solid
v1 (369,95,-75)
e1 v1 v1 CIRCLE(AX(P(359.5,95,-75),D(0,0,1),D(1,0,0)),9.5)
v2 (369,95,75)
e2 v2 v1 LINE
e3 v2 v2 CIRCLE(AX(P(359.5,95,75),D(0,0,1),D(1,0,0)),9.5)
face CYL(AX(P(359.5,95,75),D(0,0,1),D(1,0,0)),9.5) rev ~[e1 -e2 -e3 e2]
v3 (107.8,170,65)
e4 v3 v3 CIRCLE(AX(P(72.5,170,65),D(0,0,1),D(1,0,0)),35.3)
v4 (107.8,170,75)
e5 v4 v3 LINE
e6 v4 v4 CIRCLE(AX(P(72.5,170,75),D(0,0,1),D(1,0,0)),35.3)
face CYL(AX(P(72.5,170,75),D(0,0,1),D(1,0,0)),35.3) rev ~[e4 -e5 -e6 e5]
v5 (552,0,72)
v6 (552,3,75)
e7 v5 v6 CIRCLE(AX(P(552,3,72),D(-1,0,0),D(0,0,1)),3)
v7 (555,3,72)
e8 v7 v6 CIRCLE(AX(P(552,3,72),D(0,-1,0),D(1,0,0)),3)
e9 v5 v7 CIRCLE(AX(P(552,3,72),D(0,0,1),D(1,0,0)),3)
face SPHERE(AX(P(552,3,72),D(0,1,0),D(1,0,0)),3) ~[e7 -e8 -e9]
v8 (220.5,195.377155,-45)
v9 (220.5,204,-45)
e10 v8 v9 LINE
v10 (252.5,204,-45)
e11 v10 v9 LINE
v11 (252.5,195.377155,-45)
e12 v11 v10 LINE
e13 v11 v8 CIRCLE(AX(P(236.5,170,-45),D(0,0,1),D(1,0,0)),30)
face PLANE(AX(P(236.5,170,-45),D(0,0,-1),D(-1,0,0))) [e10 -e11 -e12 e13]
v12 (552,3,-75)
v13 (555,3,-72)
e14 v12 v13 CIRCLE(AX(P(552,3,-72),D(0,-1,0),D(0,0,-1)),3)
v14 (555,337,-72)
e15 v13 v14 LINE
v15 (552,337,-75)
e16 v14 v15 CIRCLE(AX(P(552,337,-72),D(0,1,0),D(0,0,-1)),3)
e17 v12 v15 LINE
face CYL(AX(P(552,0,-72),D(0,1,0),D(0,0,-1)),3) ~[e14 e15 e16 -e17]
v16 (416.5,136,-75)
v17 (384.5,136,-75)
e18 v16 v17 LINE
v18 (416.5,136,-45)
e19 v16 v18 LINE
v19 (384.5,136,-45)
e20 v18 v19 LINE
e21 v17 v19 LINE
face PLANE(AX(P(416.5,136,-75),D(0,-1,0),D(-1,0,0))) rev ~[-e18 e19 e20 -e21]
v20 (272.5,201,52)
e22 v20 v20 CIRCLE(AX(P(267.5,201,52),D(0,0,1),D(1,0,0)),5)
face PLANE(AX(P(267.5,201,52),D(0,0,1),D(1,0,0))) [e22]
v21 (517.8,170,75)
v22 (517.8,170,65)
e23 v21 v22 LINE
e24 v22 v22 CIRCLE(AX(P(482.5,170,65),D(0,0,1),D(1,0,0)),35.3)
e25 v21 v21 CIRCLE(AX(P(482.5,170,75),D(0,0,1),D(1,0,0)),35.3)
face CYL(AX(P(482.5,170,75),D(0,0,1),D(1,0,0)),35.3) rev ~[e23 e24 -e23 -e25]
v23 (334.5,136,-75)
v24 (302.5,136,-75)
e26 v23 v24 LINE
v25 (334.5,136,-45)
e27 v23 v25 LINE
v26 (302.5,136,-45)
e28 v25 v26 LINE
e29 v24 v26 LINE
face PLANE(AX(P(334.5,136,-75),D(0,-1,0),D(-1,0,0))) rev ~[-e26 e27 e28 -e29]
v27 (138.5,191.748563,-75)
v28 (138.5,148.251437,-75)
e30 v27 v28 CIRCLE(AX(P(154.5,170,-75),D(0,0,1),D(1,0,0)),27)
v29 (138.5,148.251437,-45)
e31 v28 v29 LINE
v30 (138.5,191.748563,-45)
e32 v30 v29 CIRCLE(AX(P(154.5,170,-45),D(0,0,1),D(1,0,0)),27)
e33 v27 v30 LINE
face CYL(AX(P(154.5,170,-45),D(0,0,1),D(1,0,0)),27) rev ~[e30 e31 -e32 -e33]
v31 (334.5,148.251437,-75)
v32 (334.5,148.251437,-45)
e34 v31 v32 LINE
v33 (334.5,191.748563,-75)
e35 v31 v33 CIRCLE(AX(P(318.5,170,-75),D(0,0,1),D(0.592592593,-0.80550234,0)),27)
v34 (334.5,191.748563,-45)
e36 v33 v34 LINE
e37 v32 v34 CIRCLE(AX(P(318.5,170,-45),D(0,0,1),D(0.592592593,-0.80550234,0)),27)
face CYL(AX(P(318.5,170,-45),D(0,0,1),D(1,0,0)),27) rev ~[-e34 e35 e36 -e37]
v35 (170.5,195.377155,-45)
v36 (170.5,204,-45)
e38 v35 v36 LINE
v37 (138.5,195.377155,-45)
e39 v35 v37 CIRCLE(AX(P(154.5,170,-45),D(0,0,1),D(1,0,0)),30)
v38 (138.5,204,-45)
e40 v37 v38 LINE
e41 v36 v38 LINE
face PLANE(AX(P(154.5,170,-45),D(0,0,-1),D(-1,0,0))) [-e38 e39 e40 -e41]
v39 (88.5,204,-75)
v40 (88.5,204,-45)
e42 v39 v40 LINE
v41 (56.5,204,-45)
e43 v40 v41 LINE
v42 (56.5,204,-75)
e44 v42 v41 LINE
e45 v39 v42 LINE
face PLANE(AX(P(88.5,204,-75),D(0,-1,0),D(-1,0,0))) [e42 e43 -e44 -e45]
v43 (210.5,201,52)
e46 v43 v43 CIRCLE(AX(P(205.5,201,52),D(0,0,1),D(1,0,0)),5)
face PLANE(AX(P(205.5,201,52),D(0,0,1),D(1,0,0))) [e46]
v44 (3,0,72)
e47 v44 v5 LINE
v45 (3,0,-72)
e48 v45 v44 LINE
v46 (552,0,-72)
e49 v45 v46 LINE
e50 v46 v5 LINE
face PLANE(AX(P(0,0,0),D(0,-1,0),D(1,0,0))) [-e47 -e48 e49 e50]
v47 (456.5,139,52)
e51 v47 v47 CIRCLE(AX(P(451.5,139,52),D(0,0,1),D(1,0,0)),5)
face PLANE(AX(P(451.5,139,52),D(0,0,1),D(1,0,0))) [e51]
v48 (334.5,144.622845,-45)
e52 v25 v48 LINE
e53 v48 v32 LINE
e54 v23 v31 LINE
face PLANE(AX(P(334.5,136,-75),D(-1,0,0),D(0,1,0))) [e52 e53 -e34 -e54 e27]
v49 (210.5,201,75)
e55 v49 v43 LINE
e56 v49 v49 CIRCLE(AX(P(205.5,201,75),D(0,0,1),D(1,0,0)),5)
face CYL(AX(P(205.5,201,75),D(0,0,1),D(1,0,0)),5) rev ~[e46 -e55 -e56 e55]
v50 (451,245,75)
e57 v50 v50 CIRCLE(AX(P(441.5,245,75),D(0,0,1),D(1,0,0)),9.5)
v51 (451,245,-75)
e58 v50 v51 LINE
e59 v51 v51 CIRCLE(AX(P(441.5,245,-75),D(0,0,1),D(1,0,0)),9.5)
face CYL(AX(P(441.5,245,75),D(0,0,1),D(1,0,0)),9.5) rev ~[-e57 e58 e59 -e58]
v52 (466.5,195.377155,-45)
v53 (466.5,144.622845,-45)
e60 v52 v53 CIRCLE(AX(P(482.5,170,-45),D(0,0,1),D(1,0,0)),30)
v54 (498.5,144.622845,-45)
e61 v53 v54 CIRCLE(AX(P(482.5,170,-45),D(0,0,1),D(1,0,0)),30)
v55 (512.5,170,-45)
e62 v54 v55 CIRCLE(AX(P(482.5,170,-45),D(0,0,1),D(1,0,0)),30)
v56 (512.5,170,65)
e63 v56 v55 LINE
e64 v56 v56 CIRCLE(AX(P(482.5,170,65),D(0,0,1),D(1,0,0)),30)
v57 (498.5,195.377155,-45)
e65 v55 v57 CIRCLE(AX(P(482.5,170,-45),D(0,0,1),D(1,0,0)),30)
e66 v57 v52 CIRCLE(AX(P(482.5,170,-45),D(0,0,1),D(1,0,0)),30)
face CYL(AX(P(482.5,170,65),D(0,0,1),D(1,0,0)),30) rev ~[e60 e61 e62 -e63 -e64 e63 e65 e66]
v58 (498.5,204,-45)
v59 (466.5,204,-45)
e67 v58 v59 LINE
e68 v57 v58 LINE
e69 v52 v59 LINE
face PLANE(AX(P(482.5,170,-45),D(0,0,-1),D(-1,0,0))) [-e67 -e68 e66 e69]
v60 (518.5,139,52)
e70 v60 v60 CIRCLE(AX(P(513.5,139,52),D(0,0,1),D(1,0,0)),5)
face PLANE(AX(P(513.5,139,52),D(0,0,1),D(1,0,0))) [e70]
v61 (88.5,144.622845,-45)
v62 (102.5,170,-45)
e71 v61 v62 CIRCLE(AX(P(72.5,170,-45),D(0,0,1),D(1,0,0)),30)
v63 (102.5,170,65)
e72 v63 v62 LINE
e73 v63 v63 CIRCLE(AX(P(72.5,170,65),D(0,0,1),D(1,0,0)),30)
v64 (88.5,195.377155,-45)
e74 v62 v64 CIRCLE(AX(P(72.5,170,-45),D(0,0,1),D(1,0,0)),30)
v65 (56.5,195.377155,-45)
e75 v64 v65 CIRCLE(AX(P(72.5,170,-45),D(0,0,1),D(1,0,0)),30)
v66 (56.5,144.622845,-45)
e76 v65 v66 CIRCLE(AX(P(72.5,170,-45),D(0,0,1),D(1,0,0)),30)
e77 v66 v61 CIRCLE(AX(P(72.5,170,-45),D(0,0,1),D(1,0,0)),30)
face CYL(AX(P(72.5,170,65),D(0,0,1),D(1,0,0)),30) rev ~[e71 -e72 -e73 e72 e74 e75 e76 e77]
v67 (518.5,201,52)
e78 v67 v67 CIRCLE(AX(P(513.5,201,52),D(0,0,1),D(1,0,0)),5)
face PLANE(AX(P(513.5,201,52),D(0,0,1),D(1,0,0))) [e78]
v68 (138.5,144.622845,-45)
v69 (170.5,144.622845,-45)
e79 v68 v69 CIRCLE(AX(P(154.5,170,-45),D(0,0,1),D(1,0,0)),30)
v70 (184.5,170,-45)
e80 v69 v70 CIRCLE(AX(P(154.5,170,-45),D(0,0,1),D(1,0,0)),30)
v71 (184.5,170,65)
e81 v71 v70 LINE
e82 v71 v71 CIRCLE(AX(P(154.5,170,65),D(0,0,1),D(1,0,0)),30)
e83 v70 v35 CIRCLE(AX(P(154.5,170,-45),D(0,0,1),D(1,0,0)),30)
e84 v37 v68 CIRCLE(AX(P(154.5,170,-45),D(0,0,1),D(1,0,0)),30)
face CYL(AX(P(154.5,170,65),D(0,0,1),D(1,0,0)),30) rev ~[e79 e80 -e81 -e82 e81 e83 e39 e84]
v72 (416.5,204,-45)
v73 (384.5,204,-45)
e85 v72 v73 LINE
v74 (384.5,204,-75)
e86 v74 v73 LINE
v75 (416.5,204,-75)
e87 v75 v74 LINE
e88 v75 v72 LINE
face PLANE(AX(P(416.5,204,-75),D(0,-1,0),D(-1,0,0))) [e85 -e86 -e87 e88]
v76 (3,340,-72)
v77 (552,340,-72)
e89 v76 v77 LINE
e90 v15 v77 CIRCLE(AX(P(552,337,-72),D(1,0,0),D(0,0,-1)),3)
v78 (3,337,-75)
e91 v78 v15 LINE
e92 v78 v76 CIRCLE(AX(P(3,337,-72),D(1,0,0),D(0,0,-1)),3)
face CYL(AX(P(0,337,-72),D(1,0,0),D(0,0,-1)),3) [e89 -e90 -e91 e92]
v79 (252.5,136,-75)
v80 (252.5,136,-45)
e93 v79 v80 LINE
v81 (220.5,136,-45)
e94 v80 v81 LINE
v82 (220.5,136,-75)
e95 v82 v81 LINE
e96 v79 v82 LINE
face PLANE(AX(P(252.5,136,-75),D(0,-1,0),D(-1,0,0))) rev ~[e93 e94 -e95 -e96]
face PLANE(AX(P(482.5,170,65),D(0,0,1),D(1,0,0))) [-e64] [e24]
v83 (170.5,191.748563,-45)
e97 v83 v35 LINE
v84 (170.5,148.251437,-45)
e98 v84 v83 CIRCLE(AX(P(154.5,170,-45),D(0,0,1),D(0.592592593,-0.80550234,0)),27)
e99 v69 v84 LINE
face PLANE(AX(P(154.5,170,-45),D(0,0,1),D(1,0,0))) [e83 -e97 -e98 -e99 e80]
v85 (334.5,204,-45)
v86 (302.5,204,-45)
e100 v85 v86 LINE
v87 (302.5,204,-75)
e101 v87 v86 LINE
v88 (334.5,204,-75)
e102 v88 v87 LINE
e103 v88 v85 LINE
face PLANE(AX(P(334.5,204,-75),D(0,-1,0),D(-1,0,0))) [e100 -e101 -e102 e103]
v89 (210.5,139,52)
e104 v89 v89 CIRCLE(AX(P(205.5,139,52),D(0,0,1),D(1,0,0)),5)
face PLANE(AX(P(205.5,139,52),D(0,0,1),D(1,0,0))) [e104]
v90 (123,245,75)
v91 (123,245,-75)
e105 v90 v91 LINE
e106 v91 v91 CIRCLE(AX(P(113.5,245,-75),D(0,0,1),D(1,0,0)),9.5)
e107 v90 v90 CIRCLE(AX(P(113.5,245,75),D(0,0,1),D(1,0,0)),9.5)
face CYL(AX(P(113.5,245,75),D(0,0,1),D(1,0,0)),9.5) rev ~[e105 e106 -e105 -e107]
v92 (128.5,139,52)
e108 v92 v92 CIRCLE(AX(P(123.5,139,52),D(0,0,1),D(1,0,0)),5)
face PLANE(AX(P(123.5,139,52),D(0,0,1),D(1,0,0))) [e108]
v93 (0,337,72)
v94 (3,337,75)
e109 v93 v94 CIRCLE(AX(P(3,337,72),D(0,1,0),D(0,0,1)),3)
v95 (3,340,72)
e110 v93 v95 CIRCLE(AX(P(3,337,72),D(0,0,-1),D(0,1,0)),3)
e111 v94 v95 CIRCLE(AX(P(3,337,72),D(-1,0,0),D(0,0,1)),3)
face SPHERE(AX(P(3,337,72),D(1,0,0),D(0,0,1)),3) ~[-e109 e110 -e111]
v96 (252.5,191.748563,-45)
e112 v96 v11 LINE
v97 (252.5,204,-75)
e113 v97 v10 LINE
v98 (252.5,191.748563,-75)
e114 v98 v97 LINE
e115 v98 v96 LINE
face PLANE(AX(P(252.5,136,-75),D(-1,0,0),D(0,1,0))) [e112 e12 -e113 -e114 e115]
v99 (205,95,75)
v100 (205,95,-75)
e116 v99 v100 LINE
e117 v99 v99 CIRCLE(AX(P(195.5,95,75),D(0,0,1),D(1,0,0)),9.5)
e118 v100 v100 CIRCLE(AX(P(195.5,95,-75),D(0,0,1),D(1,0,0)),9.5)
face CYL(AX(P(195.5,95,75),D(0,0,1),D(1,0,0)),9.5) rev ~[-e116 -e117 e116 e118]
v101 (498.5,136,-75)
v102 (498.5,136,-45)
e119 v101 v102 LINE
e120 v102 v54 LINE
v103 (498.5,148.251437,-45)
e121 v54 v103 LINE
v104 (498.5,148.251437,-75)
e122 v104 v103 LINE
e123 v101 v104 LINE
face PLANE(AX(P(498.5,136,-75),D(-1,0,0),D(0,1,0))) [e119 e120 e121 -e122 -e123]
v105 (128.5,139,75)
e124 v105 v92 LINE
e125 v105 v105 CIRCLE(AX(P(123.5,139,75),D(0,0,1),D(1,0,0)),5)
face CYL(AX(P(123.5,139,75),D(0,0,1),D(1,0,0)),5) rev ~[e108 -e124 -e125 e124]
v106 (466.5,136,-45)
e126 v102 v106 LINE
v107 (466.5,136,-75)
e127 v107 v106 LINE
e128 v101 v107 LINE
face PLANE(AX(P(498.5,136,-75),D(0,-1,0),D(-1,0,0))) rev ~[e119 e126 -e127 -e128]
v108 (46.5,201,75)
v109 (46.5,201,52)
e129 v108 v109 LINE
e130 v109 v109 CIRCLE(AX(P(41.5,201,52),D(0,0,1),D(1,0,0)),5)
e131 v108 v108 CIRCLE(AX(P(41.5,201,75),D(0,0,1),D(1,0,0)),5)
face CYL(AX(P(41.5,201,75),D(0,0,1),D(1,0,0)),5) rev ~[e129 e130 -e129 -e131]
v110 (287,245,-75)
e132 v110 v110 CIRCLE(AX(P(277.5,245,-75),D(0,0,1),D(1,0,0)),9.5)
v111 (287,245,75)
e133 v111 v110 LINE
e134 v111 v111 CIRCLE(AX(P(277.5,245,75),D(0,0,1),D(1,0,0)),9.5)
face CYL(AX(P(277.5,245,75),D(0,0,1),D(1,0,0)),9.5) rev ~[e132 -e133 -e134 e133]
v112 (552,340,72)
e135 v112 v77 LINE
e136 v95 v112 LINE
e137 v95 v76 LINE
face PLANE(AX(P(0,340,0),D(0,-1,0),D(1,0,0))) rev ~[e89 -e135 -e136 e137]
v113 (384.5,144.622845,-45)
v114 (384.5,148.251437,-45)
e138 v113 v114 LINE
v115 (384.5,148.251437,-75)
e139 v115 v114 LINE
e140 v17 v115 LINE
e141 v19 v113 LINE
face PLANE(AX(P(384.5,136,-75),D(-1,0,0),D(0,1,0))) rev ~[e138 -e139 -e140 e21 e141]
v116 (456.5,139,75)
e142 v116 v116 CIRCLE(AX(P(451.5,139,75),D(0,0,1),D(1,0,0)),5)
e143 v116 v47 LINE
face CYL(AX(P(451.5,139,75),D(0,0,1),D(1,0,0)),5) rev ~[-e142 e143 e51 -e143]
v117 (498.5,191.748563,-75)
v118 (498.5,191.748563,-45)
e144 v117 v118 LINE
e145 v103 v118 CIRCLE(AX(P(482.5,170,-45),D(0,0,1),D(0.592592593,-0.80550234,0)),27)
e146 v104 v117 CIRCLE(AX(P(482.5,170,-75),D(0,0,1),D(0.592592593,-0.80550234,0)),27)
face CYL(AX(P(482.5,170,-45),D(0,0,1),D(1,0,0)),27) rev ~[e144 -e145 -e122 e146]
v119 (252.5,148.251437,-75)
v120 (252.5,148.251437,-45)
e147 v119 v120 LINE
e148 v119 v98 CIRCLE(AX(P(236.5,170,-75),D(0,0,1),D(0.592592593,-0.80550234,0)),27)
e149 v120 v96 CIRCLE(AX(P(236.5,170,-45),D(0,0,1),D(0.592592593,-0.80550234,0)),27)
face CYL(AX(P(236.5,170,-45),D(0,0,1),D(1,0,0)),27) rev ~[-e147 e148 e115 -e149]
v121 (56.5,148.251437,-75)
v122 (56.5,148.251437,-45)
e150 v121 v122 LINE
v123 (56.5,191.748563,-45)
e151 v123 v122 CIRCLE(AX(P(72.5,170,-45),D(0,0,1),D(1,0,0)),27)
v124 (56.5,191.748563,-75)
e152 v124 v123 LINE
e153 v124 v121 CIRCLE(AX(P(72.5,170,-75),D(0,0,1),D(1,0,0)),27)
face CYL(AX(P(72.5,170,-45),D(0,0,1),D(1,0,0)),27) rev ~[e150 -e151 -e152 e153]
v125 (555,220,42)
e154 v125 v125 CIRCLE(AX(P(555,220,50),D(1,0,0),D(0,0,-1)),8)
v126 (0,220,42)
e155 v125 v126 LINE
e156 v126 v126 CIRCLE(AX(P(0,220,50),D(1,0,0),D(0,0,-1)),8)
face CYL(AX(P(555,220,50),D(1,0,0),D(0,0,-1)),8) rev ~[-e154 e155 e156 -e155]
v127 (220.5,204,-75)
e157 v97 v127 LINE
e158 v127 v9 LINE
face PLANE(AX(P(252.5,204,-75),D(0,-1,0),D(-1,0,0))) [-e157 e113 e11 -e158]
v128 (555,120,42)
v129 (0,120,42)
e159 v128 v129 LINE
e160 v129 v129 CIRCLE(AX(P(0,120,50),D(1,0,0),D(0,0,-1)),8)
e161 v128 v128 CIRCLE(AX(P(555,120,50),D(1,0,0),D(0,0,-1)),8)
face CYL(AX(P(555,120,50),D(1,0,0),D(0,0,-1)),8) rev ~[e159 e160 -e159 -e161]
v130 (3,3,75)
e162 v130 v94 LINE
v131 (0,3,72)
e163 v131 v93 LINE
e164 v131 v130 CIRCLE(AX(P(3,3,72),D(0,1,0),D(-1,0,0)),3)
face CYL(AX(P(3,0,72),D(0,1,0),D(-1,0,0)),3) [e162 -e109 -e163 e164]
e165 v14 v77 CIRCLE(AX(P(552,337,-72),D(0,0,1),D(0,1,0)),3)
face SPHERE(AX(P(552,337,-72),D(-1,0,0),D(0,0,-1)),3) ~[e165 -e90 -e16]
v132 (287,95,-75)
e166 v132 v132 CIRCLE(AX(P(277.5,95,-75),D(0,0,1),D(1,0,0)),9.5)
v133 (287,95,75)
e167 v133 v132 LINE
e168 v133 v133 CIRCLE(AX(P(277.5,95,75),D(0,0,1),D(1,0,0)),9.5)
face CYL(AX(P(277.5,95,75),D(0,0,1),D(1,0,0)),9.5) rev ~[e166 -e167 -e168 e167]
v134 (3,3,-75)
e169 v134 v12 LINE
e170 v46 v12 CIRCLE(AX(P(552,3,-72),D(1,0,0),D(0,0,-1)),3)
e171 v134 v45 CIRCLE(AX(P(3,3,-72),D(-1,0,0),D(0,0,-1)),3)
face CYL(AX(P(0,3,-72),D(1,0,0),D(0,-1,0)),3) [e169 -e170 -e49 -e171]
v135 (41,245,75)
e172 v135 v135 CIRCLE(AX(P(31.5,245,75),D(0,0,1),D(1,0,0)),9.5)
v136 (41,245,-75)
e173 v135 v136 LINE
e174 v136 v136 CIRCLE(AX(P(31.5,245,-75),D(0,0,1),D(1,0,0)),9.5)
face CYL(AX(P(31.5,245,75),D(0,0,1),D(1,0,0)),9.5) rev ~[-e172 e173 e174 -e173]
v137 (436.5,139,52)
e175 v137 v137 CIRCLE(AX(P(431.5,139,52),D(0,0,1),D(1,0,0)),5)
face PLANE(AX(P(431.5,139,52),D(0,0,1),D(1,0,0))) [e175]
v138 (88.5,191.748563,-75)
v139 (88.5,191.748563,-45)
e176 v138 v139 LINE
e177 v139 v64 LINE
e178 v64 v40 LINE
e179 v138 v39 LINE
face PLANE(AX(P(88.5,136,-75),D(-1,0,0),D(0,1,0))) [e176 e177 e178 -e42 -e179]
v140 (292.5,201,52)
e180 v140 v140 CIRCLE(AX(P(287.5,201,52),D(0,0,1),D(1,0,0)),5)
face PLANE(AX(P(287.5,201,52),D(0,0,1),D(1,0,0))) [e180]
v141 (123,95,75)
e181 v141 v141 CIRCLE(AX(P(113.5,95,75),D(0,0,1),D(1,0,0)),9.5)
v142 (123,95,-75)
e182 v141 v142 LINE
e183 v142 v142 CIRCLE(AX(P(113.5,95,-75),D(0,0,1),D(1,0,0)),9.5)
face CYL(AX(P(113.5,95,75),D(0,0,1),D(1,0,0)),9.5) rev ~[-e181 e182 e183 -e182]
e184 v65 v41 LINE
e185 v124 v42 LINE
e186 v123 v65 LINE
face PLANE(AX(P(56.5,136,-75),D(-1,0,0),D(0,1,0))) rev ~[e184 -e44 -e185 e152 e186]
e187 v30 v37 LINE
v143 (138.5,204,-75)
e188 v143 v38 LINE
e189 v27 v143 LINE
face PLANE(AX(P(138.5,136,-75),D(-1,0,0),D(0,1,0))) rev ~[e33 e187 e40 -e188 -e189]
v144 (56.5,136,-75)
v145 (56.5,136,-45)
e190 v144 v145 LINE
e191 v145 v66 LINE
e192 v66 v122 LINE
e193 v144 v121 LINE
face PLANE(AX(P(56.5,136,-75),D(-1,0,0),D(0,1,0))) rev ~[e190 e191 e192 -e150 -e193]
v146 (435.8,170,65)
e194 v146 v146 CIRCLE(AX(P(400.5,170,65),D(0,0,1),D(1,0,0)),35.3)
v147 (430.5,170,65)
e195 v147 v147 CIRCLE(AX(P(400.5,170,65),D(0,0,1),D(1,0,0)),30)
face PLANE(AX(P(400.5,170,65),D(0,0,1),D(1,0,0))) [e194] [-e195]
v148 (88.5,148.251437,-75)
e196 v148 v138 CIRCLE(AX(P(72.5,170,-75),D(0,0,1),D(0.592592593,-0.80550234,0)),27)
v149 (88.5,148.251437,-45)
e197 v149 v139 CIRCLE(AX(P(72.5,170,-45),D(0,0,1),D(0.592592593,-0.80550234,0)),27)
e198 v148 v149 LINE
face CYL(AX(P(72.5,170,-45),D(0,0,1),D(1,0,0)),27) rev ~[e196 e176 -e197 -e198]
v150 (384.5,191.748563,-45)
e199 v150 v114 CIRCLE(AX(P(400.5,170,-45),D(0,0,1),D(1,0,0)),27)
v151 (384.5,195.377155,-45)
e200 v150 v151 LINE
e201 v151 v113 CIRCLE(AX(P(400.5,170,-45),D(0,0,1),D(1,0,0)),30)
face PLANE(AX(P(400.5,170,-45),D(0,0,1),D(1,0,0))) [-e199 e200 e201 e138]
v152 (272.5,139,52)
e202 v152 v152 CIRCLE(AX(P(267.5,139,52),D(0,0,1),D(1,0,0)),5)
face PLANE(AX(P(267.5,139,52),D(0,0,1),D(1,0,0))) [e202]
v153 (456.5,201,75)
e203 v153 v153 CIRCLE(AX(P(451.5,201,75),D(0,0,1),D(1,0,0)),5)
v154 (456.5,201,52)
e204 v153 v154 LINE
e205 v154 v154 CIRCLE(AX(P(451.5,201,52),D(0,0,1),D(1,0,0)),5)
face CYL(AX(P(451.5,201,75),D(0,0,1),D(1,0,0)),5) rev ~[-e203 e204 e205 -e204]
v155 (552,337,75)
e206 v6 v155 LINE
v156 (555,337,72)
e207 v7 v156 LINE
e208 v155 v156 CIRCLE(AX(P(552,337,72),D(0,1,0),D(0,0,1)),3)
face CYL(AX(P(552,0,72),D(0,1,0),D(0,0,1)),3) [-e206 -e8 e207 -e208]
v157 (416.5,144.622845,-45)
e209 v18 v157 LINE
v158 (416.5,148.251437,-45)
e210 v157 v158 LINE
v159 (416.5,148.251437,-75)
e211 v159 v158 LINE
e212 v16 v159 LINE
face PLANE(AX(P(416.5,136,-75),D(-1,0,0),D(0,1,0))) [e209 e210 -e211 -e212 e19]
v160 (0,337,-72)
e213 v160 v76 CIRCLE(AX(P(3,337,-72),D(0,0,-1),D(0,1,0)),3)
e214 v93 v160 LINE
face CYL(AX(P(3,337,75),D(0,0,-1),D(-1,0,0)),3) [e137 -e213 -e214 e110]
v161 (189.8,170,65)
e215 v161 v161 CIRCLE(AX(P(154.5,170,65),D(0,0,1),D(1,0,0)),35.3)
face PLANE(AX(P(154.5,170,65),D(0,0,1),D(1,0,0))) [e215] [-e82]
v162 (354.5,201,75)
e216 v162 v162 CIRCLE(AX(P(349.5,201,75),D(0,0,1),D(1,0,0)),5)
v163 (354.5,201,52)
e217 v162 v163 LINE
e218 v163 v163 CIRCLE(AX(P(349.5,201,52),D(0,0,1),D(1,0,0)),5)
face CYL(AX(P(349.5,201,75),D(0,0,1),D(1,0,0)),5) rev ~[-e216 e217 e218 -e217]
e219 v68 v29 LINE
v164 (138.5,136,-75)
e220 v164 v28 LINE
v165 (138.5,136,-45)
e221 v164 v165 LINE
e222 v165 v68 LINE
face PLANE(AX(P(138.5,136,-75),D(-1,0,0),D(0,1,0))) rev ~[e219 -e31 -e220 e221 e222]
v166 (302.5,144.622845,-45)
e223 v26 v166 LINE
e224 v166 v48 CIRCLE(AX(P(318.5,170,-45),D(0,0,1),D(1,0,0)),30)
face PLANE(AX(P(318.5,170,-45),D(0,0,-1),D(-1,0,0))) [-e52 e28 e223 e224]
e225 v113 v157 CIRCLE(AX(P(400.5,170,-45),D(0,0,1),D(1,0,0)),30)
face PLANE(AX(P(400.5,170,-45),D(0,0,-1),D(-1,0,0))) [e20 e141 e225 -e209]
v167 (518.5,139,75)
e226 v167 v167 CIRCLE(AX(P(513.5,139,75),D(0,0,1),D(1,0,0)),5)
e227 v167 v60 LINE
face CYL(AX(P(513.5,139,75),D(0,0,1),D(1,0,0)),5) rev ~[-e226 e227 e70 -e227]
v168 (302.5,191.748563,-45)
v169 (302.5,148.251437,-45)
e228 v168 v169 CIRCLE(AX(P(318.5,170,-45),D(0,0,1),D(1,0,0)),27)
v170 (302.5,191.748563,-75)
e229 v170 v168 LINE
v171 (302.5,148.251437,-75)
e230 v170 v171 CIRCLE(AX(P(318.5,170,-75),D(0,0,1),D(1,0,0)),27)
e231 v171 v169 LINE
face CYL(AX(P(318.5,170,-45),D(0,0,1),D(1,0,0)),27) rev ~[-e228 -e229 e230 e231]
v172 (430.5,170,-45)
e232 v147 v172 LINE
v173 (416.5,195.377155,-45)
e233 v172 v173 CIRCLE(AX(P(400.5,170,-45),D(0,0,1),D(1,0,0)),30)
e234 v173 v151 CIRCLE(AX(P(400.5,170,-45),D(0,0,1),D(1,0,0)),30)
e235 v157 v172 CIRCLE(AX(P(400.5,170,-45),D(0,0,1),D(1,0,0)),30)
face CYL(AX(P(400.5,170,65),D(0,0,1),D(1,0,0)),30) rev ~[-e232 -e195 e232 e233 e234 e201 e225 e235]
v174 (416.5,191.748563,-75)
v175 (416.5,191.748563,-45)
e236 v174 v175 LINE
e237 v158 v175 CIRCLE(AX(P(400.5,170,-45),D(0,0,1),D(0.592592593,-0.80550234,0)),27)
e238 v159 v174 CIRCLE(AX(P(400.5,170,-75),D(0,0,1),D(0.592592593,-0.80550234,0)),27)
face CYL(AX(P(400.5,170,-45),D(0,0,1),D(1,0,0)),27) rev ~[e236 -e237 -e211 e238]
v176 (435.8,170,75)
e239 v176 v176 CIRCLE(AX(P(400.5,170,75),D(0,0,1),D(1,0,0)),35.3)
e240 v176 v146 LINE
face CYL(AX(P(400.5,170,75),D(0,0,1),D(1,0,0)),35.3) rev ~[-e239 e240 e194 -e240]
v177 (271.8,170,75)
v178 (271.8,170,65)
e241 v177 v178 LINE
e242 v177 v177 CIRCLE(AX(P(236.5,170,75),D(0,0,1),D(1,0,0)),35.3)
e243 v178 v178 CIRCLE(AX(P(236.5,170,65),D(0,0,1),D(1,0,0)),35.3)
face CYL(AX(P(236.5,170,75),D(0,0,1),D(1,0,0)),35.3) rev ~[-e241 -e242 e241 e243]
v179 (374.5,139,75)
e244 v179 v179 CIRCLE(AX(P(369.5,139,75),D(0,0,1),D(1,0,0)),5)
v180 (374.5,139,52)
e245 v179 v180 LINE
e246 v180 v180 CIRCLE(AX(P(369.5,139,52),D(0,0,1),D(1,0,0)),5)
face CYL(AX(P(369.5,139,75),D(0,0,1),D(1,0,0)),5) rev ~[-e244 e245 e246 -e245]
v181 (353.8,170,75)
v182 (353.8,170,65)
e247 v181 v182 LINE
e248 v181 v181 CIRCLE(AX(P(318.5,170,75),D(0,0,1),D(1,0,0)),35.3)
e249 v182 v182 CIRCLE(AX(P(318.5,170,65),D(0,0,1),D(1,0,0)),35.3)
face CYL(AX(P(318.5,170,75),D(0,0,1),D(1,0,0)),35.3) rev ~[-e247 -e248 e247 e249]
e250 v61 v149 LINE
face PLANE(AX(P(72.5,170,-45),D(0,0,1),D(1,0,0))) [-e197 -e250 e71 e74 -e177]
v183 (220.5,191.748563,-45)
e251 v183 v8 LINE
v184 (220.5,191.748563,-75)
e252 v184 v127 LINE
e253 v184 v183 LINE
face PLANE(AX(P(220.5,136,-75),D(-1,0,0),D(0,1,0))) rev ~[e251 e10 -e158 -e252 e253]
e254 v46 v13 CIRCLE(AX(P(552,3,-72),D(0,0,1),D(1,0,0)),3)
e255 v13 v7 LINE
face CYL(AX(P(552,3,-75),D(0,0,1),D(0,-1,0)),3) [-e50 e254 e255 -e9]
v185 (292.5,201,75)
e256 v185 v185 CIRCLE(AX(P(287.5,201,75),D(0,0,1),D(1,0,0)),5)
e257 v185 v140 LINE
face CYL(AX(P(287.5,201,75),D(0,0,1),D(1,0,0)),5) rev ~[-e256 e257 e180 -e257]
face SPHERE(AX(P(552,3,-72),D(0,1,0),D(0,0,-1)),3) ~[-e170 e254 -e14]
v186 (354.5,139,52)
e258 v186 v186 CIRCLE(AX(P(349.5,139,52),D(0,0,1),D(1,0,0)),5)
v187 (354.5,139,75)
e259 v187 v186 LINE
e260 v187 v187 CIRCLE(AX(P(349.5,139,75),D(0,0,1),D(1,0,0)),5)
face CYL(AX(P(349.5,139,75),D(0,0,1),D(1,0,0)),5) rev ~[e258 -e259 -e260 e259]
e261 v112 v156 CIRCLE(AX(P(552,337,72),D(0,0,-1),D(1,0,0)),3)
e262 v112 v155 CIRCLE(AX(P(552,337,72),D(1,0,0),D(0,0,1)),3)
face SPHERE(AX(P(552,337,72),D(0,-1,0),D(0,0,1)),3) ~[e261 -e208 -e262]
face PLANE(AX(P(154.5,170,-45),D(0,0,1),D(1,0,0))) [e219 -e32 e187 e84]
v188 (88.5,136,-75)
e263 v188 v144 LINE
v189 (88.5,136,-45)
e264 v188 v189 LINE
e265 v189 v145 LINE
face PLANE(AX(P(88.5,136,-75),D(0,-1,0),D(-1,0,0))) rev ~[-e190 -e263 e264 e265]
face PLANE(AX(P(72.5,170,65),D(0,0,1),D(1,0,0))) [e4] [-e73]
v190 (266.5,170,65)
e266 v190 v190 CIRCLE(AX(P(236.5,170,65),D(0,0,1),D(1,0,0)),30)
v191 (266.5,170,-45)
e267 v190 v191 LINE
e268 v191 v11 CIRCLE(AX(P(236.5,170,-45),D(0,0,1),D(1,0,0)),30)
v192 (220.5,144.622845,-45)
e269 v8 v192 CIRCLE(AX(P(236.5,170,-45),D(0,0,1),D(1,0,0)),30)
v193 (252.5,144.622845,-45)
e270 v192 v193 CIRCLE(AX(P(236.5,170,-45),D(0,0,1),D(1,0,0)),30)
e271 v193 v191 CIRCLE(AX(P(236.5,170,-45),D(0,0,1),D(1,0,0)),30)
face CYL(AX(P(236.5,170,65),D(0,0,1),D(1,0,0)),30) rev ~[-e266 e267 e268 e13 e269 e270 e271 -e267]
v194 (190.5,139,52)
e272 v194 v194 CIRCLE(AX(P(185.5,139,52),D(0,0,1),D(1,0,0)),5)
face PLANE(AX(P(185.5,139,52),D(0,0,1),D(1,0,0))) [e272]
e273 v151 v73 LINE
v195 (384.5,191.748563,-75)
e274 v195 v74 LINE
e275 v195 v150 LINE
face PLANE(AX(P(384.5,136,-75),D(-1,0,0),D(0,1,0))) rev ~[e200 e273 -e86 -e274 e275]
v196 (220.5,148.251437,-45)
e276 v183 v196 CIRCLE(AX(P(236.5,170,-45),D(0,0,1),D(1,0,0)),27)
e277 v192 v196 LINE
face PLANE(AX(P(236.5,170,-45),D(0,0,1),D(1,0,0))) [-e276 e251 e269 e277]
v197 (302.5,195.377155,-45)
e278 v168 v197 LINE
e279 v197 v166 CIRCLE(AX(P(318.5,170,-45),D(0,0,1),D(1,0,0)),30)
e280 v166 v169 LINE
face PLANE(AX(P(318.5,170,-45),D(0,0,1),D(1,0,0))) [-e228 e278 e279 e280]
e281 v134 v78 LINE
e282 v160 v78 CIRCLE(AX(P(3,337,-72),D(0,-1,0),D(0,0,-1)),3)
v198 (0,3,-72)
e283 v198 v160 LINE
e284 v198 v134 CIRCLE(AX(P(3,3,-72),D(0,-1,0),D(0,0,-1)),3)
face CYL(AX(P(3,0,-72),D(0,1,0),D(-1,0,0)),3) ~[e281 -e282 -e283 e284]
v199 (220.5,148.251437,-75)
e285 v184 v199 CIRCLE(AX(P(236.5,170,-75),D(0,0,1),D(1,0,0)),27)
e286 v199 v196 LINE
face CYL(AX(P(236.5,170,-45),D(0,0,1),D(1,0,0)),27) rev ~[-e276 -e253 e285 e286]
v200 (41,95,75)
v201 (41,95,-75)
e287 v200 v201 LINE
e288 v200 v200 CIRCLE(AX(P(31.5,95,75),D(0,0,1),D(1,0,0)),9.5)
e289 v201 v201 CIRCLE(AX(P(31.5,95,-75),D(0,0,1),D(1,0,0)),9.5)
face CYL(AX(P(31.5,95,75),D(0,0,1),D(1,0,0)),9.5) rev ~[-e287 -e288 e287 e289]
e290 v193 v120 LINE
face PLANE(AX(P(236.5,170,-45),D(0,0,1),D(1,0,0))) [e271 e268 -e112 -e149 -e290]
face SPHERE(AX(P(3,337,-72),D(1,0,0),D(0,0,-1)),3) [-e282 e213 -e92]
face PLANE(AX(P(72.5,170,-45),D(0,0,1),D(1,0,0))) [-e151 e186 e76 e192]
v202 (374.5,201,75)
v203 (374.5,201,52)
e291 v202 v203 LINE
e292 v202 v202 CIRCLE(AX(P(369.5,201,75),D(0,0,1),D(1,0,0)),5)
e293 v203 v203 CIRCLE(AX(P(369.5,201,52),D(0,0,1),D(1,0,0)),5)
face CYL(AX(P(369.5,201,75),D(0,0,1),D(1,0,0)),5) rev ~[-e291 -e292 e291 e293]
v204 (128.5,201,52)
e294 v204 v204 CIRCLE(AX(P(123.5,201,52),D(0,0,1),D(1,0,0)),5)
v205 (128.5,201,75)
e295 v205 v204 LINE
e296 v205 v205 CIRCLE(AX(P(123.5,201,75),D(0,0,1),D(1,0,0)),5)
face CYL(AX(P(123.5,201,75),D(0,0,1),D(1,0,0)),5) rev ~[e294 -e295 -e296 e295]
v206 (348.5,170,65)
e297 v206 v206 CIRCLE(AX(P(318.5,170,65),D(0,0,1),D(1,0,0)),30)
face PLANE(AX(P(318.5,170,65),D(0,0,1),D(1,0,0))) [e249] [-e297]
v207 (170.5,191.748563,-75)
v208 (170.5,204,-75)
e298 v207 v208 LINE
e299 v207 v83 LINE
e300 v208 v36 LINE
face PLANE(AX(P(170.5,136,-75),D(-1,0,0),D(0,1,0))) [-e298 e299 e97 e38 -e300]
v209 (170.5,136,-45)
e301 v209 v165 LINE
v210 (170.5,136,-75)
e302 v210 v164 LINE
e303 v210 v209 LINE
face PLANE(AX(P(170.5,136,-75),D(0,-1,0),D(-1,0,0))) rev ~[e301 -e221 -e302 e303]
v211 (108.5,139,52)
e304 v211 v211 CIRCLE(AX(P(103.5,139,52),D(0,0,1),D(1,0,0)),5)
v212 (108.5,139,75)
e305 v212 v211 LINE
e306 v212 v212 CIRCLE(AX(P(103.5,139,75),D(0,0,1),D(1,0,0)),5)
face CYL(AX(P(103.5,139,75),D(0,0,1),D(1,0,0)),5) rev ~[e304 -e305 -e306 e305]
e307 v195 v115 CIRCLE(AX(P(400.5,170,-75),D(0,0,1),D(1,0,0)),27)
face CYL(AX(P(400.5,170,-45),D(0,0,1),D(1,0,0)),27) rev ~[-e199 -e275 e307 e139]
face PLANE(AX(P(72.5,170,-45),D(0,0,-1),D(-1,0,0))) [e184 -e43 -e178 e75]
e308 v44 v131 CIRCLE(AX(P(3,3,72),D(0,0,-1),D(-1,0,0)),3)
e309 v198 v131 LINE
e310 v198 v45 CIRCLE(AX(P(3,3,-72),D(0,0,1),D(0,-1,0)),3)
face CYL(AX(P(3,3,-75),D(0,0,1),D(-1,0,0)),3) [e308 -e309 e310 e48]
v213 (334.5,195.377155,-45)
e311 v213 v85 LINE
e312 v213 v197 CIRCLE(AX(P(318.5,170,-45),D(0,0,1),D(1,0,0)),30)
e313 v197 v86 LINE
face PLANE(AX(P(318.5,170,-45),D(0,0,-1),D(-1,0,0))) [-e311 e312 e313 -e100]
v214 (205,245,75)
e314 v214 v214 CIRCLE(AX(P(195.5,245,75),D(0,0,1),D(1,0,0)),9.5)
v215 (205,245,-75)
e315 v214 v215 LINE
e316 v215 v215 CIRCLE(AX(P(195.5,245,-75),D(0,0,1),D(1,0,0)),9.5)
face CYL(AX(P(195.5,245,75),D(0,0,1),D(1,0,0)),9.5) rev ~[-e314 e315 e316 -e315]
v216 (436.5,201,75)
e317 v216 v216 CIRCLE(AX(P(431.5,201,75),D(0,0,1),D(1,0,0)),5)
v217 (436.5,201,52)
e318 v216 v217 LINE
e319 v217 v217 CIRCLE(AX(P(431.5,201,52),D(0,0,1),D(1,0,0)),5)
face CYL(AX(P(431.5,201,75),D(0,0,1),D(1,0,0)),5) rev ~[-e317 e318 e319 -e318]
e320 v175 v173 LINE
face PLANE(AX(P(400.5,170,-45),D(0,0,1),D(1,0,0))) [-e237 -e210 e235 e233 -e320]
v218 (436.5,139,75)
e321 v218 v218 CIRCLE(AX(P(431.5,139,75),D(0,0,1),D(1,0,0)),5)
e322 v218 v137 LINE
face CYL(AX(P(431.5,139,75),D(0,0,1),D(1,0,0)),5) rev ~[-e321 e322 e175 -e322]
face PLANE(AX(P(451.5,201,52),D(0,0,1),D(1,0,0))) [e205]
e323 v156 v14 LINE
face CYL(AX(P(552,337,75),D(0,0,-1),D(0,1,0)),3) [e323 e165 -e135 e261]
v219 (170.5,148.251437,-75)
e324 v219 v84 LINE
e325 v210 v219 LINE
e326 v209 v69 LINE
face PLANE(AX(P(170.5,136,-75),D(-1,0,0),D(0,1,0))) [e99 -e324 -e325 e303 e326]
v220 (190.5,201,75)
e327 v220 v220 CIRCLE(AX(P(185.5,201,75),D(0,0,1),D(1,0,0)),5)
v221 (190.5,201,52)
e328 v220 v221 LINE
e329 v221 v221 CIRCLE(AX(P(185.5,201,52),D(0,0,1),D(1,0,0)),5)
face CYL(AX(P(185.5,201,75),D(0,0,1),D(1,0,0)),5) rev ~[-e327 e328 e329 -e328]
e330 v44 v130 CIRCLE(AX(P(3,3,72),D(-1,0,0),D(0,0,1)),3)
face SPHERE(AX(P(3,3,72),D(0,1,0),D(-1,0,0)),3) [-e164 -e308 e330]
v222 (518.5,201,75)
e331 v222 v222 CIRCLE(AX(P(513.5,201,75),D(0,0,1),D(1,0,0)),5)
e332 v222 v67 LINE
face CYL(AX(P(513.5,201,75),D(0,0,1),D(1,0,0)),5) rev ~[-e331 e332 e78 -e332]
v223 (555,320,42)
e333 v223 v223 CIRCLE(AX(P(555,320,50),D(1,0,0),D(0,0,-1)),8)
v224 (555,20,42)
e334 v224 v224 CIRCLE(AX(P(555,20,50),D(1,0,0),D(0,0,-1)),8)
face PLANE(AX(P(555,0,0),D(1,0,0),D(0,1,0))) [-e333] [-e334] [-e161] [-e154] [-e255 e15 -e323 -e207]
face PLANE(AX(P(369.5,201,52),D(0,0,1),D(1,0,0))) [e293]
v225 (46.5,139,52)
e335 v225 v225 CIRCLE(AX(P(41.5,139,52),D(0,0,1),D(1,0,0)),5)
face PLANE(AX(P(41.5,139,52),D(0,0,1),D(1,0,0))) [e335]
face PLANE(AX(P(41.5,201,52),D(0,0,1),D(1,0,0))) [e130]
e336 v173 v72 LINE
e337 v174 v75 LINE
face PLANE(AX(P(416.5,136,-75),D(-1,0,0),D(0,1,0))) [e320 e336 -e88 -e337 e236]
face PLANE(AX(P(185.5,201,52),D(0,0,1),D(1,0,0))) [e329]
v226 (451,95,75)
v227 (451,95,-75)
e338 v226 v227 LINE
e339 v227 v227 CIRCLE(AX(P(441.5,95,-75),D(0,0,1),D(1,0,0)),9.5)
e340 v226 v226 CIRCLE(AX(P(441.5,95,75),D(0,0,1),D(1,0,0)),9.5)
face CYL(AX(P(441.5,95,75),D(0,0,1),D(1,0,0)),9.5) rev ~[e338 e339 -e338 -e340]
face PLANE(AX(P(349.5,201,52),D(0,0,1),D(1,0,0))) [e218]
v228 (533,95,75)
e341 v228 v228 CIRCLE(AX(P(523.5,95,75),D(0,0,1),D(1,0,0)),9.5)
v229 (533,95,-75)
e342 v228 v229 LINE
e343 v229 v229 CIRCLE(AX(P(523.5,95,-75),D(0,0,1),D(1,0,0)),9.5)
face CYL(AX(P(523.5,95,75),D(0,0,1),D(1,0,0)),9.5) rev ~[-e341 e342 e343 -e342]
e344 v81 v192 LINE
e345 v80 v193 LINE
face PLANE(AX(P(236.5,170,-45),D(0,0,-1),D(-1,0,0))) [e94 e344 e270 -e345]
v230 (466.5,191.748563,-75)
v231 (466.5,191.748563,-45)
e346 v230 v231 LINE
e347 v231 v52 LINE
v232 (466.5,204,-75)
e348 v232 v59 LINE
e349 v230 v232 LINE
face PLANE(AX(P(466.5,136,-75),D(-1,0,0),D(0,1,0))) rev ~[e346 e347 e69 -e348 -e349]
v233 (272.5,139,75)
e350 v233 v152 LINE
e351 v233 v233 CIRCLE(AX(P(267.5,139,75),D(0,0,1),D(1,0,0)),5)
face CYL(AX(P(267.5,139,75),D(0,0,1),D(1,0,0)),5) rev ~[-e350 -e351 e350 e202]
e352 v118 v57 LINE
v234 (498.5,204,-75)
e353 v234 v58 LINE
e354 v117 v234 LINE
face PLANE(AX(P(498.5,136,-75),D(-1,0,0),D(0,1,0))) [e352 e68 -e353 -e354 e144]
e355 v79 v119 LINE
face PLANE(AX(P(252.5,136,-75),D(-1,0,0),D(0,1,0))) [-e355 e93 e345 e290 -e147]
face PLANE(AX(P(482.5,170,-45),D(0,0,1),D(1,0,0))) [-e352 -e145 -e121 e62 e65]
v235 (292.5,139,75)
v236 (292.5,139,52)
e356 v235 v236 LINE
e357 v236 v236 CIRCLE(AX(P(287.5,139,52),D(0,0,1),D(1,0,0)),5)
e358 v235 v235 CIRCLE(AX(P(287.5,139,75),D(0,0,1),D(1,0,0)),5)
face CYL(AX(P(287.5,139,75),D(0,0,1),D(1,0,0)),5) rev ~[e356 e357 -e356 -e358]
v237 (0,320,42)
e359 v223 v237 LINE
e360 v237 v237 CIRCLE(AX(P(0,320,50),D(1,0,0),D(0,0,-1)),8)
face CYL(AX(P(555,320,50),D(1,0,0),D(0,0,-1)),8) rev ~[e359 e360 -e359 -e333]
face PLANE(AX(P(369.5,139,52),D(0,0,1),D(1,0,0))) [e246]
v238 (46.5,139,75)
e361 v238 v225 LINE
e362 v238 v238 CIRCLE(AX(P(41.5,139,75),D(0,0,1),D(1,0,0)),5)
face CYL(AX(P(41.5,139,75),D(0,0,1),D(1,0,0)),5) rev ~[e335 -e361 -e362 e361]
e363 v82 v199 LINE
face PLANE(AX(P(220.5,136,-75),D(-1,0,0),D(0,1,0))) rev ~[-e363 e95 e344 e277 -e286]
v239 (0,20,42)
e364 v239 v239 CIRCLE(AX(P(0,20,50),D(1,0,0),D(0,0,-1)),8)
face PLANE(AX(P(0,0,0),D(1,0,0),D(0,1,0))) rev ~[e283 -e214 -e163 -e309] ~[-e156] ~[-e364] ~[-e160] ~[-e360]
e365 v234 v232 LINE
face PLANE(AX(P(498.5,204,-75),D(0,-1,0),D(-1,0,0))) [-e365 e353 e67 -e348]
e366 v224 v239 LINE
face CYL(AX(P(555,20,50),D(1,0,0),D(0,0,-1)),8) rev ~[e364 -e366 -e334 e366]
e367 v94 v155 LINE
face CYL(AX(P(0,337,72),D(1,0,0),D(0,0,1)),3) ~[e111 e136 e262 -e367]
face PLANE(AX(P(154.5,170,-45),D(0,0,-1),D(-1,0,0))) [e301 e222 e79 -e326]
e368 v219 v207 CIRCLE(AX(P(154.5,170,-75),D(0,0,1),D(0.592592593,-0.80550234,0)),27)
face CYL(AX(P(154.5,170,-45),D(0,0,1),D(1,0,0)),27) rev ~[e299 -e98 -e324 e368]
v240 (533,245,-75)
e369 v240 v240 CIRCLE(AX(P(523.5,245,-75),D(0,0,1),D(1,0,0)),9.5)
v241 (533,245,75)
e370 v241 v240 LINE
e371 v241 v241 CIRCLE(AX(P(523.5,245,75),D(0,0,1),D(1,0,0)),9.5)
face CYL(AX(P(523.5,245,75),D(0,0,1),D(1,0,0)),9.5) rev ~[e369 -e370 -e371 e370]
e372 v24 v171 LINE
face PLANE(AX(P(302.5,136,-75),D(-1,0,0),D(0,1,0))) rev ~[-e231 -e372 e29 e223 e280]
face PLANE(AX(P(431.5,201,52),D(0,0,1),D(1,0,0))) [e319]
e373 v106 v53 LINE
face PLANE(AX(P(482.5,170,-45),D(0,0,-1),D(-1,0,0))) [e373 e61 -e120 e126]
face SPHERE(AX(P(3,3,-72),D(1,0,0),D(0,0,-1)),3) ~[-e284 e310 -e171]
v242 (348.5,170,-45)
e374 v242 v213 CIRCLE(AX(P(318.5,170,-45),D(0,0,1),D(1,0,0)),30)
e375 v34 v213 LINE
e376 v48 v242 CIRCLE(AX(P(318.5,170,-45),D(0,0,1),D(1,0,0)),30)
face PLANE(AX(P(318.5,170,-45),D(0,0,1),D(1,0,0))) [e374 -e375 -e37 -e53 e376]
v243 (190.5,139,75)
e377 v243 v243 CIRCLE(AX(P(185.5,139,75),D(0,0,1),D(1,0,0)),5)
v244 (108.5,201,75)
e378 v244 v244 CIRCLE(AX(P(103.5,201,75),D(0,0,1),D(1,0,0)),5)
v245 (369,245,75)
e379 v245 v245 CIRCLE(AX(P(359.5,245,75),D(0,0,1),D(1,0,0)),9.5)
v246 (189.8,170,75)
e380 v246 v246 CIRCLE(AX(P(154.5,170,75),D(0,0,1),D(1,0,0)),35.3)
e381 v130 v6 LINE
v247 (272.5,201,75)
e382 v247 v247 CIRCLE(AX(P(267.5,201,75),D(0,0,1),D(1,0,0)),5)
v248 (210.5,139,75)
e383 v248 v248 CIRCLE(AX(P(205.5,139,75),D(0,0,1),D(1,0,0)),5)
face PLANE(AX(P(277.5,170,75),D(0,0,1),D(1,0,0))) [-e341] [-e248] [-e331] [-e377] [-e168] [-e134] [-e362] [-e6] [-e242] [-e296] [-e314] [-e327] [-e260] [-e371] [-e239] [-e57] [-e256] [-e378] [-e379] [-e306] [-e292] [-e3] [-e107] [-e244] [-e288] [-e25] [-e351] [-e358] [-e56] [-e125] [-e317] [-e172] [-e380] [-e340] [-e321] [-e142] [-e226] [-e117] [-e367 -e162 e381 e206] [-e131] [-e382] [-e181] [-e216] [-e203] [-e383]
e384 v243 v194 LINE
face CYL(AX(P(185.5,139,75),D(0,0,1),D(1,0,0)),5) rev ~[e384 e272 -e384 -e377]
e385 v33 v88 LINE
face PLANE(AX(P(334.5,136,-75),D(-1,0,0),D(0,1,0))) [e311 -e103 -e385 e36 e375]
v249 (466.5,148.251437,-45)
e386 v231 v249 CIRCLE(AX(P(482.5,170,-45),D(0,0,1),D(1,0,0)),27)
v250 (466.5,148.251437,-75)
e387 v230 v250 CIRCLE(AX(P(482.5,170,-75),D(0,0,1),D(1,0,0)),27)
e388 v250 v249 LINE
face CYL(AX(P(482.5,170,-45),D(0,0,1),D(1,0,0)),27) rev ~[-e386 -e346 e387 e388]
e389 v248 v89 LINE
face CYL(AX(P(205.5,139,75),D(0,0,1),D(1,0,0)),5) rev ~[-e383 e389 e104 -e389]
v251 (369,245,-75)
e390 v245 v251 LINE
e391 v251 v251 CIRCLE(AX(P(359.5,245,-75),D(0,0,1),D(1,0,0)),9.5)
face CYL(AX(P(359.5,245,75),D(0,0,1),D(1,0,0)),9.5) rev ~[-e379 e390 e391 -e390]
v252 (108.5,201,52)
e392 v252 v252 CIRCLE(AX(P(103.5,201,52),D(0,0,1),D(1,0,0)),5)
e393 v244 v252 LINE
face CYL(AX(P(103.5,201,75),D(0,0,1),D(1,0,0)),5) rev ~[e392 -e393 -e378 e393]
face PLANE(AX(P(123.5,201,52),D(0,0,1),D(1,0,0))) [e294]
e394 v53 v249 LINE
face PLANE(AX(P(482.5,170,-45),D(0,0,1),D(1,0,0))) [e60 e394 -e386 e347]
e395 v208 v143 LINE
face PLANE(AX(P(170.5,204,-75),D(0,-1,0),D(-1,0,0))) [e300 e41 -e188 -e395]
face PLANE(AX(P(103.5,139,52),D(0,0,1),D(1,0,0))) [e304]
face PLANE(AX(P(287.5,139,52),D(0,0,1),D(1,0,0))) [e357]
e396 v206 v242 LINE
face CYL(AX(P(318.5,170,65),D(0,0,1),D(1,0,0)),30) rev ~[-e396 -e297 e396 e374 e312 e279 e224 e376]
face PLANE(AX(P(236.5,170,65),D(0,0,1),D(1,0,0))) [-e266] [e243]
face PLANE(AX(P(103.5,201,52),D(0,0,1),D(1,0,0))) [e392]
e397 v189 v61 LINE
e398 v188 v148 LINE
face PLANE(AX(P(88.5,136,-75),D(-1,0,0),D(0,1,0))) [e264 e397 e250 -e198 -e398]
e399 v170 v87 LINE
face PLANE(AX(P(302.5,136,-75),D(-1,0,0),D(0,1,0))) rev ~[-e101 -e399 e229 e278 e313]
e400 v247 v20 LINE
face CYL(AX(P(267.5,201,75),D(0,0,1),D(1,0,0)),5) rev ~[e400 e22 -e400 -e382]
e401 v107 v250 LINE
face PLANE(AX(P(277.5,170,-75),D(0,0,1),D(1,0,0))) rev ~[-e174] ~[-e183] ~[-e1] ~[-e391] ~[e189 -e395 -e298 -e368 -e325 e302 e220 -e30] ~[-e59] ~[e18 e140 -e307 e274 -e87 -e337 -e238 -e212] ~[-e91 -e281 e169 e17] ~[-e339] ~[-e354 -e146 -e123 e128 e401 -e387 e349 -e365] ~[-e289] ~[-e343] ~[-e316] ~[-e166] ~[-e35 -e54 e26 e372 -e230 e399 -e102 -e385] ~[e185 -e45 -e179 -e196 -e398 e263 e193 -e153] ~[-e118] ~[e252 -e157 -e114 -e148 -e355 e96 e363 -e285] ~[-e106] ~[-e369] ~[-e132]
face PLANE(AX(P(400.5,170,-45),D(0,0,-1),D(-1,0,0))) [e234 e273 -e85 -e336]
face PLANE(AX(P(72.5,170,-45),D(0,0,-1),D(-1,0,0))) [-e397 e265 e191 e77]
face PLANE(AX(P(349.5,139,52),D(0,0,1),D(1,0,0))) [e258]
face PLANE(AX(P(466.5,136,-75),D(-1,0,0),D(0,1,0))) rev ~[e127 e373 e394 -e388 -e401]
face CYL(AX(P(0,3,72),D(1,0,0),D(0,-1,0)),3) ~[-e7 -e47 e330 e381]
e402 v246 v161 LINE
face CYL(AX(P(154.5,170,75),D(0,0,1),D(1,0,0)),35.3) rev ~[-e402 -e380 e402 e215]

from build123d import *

# Parameters (mm, degrees)
SKETCH1_W                  = 555
SKETCH1_H                  = 340
BOSS_EXTRUDE1_DEPTH        = 75
SKETCH3_R                  = 35.3
CUT_EXTRUDE1_DEPTH         = 10
SKETCH5_R                  = 30
CUT_EXTRUDE2_DEPTH         = 110
SKETCH6_R                  = 27
CUT_EXTRUDE3_DEPTH         = 218
SKETCH7_W                  = 32
SKETCH7_H                  = 68
CUT_EXTRUDE4_DEPTH         = 30
SKETCH8_R                  = 5
CUT_EXTRUDE5_DEPTH         = 23
LPATTERN1_COUNT            = 2
LPATTERN1_PITCH            = 62
LPATTERN1_COUNT_DIR2       = 2
LPATTERN1_PITCH_DIR2       = 62
LPATTERN2_COUNT            = 6
LPATTERN2_PITCH            = 82
LPATTERN2_COPY_1_SKETCH_R  = 5
LPATTERN2_COPY_1_DEPTH     = 23
LPATTERN2_COPY_2_SKETCH_R  = 5
LPATTERN2_COPY_2_DEPTH     = 23
LPATTERN2_COPY_3_SKETCH_R  = 5
LPATTERN2_COPY_3_DEPTH     = 23
LPATTERN2_COPY_4_SKETCH_R  = 5
LPATTERN2_COPY_4_DEPTH     = 23
LPATTERN2_COPY_5_SKETCH_R  = 5
LPATTERN2_COPY_5_DEPTH     = 23
LPATTERN2_COPY_6_SKETCH_R  = 5
LPATTERN2_COPY_6_DEPTH     = 23
LPATTERN2_COPY_7_SKETCH_R  = 5
LPATTERN2_COPY_7_DEPTH     = 23
LPATTERN2_COPY_8_SKETCH_R  = 5
LPATTERN2_COPY_8_DEPTH     = 23
LPATTERN2_COPY_9_SKETCH_R  = 5
LPATTERN2_COPY_9_DEPTH     = 23
LPATTERN2_COPY_10_SKETCH_R = 5
LPATTERN2_COPY_10_DEPTH    = 23
LPATTERN2_COPY_11_SKETCH_R = 5
LPATTERN2_COPY_11_DEPTH    = 23
LPATTERN2_COPY_12_SKETCH_R = 5
LPATTERN2_COPY_12_DEPTH    = 23
LPATTERN2_COPY_13_SKETCH_R = 5
LPATTERN2_COPY_13_DEPTH    = 23
LPATTERN2_COPY_14_SKETCH_R = 5
LPATTERN2_COPY_14_DEPTH    = 23
LPATTERN2_COPY_15_SKETCH_R = 5
LPATTERN2_COPY_15_DEPTH    = 23
SKETCH9_R                  = 9.5
CUT_EXTRUDE6_DEPTH         = 151
LPATTERN3_COUNT            = 7
LPATTERN3_PITCH            = 82
LPATTERN3_COUNT_DIR2       = 2
LPATTERN3_PITCH_DIR2       = 150
SKETCH14_R                 = 8
CUT_EXTRUDE7_DEPTH         = 556
LPATTERN4_COUNT            = 4
LPATTERN4_PITCH            = 100
FILLET1_R                  = 3


with BuildPart() as part:
    # Sketch1 → Boss-Extrude1 (new body, symmetric)
    with BuildSketch(Plane.XY):
        with Locations((277.5, 170)):
            Rectangle(SKETCH1_W, SKETCH1_H)
    extrude(amount=BOSS_EXTRUDE1_DEPTH, both=True)

    # Sketch3 → Cut-Extrude1 (cut)
    with BuildSketch(Plane.XY.offset(75)):
        with Locations((72.5, 170)):
            Circle(SKETCH3_R)
    cut_extrude1 = extrude(amount=-CUT_EXTRUDE1_DEPTH, mode=Mode.SUBTRACT)

    # Sketch5 → Cut-Extrude2 (cut)
    with BuildSketch(Plane.XY.offset(65)):
        with Locations((72.5, 170)):
            Circle(SKETCH5_R)
    cut_extrude2 = extrude(amount=-CUT_EXTRUDE2_DEPTH, mode=Mode.SUBTRACT)

    # Sketch6 → Cut-Extrude3 (cut)
    with BuildSketch(Plane.XY.offset(-45)):
        with Locations((72.5, 170)):
            Circle(SKETCH6_R)
    cut_extrude3 = extrude(amount=-CUT_EXTRUDE3_DEPTH, mode=Mode.SUBTRACT)

    # Sketch7 → Cut-Extrude4 (cut)
    with BuildSketch(Plane(origin=(0, 0, -75), x_dir=(-1, 0, 0), z_dir=(0, 0, -1))):
        with Locations((-72.5, 170)):
            Rectangle(SKETCH7_W, SKETCH7_H)
    cut_extrude4 = extrude(amount=-CUT_EXTRUDE4_DEPTH, mode=Mode.SUBTRACT)

    # Sketch8 → Cut-Extrude5 (cut)
    with BuildSketch(Plane.XY.offset(75)):
        with Locations((41.5, 201)):
            Circle(SKETCH8_R)
    cut_extrude5 = extrude(amount=-CUT_EXTRUDE5_DEPTH, mode=Mode.SUBTRACT)

    # LPattern1: Cut-Extrude5 2 × 2
    with Locations(*[(i * LPATTERN1_PITCH, -j * LPATTERN1_PITCH_DIR2, 0) for i in range(LPATTERN1_COUNT) for j in range(LPATTERN1_COUNT_DIR2) if (i, j) != (0, 0)]):
        add(cut_extrude5, mode=Mode.SUBTRACT)

    # LPattern2: Cut-Extrude1, Cut-Extrude2, Cut-Extrude3, Cut-Extrude4, Cut-Extrude5 ×6
    with Locations(*[(i * LPATTERN2_PITCH, 0, 0) for i in range(1, LPATTERN2_COUNT)]):
        add(cut_extrude1, mode=Mode.SUBTRACT)
        add(cut_extrude2, mode=Mode.SUBTRACT)
        add(cut_extrude3, mode=Mode.SUBTRACT)
        add(cut_extrude4, mode=Mode.SUBTRACT)
        add(cut_extrude5, mode=Mode.SUBTRACT)

    # LPattern2 copy 1 sketch → LPattern2 copy 1 (cut)
    with BuildSketch(Plane(origin=(82, -62, 75), x_dir=(1, 0, 0), z_dir=(0, 0, 1))):
        with Locations((41.5, 201)):
            Circle(LPATTERN2_COPY_1_SKETCH_R)
    extrude(amount=-LPATTERN2_COPY_1_DEPTH, mode=Mode.SUBTRACT)

    # LPattern2 copy 2 sketch → LPattern2 copy 2 (cut)
    with BuildSketch(Plane(origin=(164, -62, 75), x_dir=(1, 0, 0), z_dir=(0, 0, 1))):
        with Locations((41.5, 201)):
            Circle(LPATTERN2_COPY_2_SKETCH_R)
    extrude(amount=-LPATTERN2_COPY_2_DEPTH, mode=Mode.SUBTRACT)

    # LPattern2 copy 3 sketch → LPattern2 copy 3 (cut)
    with BuildSketch(Plane(origin=(246, -62, 75), x_dir=(1, 0, 0), z_dir=(0, 0, 1))):
        with Locations((41.5, 201)):
            Circle(LPATTERN2_COPY_3_SKETCH_R)
    extrude(amount=-LPATTERN2_COPY_3_DEPTH, mode=Mode.SUBTRACT)

    # LPattern2 copy 4 sketch → LPattern2 copy 4 (cut)
    with BuildSketch(Plane(origin=(328, -62, 75), x_dir=(1, 0, 0), z_dir=(0, 0, 1))):
        with Locations((41.5, 201)):
            Circle(LPATTERN2_COPY_4_SKETCH_R)
    extrude(amount=-LPATTERN2_COPY_4_DEPTH, mode=Mode.SUBTRACT)

    # LPattern2 copy 5 sketch → LPattern2 copy 5 (cut)
    with BuildSketch(Plane(origin=(410, -62, 75), x_dir=(1, 0, 0), z_dir=(0, 0, 1))):
        with Locations((41.5, 201)):
            Circle(LPATTERN2_COPY_5_SKETCH_R)
    extrude(amount=-LPATTERN2_COPY_5_DEPTH, mode=Mode.SUBTRACT)

    # LPattern2 copy 6 sketch → LPattern2 copy 6 (cut)
    with BuildSketch(Plane(origin=(144, 0, 75), x_dir=(1, 0, 0), z_dir=(0, 0, 1))):
        with Locations((41.5, 201)):
            Circle(LPATTERN2_COPY_6_SKETCH_R)
    extrude(amount=-LPATTERN2_COPY_6_DEPTH, mode=Mode.SUBTRACT)

    # LPattern2 copy 7 sketch → LPattern2 copy 7 (cut)
    with BuildSketch(Plane(origin=(226, 0, 75), x_dir=(1, 0, 0), z_dir=(0, 0, 1))):
        with Locations((41.5, 201)):
            Circle(LPATTERN2_COPY_7_SKETCH_R)
    extrude(amount=-LPATTERN2_COPY_7_DEPTH, mode=Mode.SUBTRACT)

    # LPattern2 copy 8 sketch → LPattern2 copy 8 (cut)
    with BuildSketch(Plane(origin=(308, 0, 75), x_dir=(1, 0, 0), z_dir=(0, 0, 1))):
        with Locations((41.5, 201)):
            Circle(LPATTERN2_COPY_8_SKETCH_R)
    extrude(amount=-LPATTERN2_COPY_8_DEPTH, mode=Mode.SUBTRACT)

    # LPattern2 copy 9 sketch → LPattern2 copy 9 (cut)
    with BuildSketch(Plane(origin=(390, 0, 75), x_dir=(1, 0, 0), z_dir=(0, 0, 1))):
        with Locations((41.5, 201)):
            Circle(LPATTERN2_COPY_9_SKETCH_R)
    extrude(amount=-LPATTERN2_COPY_9_DEPTH, mode=Mode.SUBTRACT)

    # LPattern2 copy 10 sketch → LPattern2 copy 10 (cut)
    with BuildSketch(Plane(origin=(472, 0, 75), x_dir=(1, 0, 0), z_dir=(0, 0, 1))):
        with Locations((41.5, 201)):
            Circle(LPATTERN2_COPY_10_SKETCH_R)
    extrude(amount=-LPATTERN2_COPY_10_DEPTH, mode=Mode.SUBTRACT)

    # LPattern2 copy 11 sketch → LPattern2 copy 11 (cut)
    with BuildSketch(Plane(origin=(144, -62, 75), x_dir=(1, 0, 0), z_dir=(0, 0, 1))):
        with Locations((41.5, 201)):
            Circle(LPATTERN2_COPY_11_SKETCH_R)
    extrude(amount=-LPATTERN2_COPY_11_DEPTH, mode=Mode.SUBTRACT)

    # LPattern2 copy 12 sketch → LPattern2 copy 12 (cut)
    with BuildSketch(Plane(origin=(226, -62, 75), x_dir=(1, 0, 0), z_dir=(0, 0, 1))):
        with Locations((41.5, 201)):
            Circle(LPATTERN2_COPY_12_SKETCH_R)
    extrude(amount=-LPATTERN2_COPY_12_DEPTH, mode=Mode.SUBTRACT)

    # LPattern2 copy 13 sketch → LPattern2 copy 13 (cut)
    with BuildSketch(Plane(origin=(308, -62, 75), x_dir=(1, 0, 0), z_dir=(0, 0, 1))):
        with Locations((41.5, 201)):
            Circle(LPATTERN2_COPY_13_SKETCH_R)
    extrude(amount=-LPATTERN2_COPY_13_DEPTH, mode=Mode.SUBTRACT)

    # LPattern2 copy 14 sketch → LPattern2 copy 14 (cut)
    with BuildSketch(Plane(origin=(390, -62, 75), x_dir=(1, 0, 0), z_dir=(0, 0, 1))):
        with Locations((41.5, 201)):
            Circle(LPATTERN2_COPY_14_SKETCH_R)
    extrude(amount=-LPATTERN2_COPY_14_DEPTH, mode=Mode.SUBTRACT)

    # LPattern2 copy 15 sketch → LPattern2 copy 15 (cut)
    with BuildSketch(Plane(origin=(472, -62, 75), x_dir=(1, 0, 0), z_dir=(0, 0, 1))):
        with Locations((41.5, 201)):
            Circle(LPATTERN2_COPY_15_SKETCH_R)
    extrude(amount=-LPATTERN2_COPY_15_DEPTH, mode=Mode.SUBTRACT)

    # Sketch9 → Cut-Extrude6 (cut, through all)
    with BuildSketch(Plane.XY.offset(75)):
        with Locations((31.5, 245)):
            Circle(SKETCH9_R)
    cut_extrude6 = extrude(amount=-CUT_EXTRUDE6_DEPTH, mode=Mode.SUBTRACT)

    # LPattern3: Cut-Extrude6 7 × 2
    with Locations(*[(i * LPATTERN3_PITCH, -j * LPATTERN3_PITCH_DIR2, 0) for i in range(LPATTERN3_COUNT) for j in range(LPATTERN3_COUNT_DIR2) if (i, j) != (0, 0)]):
        add(cut_extrude6, mode=Mode.SUBTRACT)

    # Sketch14 → Cut-Extrude7 (cut, through all)
    with BuildSketch(Plane(origin=(555, 0, 0), x_dir=(0, 0, -1), z_dir=(1, 0, 0))):
        with Locations((-50, 20)):
            Circle(SKETCH14_R)
    cut_extrude7 = extrude(amount=-CUT_EXTRUDE7_DEPTH, mode=Mode.SUBTRACT)

    # LPattern4: Cut-Extrude7 ×4
    with Locations(*[(0, i * LPATTERN4_PITCH, 0) for i in range(1, LPATTERN4_COUNT)]):
        add(cut_extrude7, mode=Mode.SUBTRACT)

    # Fillet1
    fillet1_edges = [part.edges().sort_by_distance(p)[0] for p in [
        (555, 170, 75),
        (277.5, 340, 75),
        (0, 170, 75),
        (277.5, 340, -75),
        (555, 170, -75),
        (277.5, 0, -75),
        (0, 170, -75),
        (0, 340, 0),
        (555, 340, 0),
        (555, 0, 0),
        (0, 0, 0),
        (277.5, 0, 75),
    ]]
    fillet(fillet1_edges, radius=FILLET1_R)


solid = part.part
